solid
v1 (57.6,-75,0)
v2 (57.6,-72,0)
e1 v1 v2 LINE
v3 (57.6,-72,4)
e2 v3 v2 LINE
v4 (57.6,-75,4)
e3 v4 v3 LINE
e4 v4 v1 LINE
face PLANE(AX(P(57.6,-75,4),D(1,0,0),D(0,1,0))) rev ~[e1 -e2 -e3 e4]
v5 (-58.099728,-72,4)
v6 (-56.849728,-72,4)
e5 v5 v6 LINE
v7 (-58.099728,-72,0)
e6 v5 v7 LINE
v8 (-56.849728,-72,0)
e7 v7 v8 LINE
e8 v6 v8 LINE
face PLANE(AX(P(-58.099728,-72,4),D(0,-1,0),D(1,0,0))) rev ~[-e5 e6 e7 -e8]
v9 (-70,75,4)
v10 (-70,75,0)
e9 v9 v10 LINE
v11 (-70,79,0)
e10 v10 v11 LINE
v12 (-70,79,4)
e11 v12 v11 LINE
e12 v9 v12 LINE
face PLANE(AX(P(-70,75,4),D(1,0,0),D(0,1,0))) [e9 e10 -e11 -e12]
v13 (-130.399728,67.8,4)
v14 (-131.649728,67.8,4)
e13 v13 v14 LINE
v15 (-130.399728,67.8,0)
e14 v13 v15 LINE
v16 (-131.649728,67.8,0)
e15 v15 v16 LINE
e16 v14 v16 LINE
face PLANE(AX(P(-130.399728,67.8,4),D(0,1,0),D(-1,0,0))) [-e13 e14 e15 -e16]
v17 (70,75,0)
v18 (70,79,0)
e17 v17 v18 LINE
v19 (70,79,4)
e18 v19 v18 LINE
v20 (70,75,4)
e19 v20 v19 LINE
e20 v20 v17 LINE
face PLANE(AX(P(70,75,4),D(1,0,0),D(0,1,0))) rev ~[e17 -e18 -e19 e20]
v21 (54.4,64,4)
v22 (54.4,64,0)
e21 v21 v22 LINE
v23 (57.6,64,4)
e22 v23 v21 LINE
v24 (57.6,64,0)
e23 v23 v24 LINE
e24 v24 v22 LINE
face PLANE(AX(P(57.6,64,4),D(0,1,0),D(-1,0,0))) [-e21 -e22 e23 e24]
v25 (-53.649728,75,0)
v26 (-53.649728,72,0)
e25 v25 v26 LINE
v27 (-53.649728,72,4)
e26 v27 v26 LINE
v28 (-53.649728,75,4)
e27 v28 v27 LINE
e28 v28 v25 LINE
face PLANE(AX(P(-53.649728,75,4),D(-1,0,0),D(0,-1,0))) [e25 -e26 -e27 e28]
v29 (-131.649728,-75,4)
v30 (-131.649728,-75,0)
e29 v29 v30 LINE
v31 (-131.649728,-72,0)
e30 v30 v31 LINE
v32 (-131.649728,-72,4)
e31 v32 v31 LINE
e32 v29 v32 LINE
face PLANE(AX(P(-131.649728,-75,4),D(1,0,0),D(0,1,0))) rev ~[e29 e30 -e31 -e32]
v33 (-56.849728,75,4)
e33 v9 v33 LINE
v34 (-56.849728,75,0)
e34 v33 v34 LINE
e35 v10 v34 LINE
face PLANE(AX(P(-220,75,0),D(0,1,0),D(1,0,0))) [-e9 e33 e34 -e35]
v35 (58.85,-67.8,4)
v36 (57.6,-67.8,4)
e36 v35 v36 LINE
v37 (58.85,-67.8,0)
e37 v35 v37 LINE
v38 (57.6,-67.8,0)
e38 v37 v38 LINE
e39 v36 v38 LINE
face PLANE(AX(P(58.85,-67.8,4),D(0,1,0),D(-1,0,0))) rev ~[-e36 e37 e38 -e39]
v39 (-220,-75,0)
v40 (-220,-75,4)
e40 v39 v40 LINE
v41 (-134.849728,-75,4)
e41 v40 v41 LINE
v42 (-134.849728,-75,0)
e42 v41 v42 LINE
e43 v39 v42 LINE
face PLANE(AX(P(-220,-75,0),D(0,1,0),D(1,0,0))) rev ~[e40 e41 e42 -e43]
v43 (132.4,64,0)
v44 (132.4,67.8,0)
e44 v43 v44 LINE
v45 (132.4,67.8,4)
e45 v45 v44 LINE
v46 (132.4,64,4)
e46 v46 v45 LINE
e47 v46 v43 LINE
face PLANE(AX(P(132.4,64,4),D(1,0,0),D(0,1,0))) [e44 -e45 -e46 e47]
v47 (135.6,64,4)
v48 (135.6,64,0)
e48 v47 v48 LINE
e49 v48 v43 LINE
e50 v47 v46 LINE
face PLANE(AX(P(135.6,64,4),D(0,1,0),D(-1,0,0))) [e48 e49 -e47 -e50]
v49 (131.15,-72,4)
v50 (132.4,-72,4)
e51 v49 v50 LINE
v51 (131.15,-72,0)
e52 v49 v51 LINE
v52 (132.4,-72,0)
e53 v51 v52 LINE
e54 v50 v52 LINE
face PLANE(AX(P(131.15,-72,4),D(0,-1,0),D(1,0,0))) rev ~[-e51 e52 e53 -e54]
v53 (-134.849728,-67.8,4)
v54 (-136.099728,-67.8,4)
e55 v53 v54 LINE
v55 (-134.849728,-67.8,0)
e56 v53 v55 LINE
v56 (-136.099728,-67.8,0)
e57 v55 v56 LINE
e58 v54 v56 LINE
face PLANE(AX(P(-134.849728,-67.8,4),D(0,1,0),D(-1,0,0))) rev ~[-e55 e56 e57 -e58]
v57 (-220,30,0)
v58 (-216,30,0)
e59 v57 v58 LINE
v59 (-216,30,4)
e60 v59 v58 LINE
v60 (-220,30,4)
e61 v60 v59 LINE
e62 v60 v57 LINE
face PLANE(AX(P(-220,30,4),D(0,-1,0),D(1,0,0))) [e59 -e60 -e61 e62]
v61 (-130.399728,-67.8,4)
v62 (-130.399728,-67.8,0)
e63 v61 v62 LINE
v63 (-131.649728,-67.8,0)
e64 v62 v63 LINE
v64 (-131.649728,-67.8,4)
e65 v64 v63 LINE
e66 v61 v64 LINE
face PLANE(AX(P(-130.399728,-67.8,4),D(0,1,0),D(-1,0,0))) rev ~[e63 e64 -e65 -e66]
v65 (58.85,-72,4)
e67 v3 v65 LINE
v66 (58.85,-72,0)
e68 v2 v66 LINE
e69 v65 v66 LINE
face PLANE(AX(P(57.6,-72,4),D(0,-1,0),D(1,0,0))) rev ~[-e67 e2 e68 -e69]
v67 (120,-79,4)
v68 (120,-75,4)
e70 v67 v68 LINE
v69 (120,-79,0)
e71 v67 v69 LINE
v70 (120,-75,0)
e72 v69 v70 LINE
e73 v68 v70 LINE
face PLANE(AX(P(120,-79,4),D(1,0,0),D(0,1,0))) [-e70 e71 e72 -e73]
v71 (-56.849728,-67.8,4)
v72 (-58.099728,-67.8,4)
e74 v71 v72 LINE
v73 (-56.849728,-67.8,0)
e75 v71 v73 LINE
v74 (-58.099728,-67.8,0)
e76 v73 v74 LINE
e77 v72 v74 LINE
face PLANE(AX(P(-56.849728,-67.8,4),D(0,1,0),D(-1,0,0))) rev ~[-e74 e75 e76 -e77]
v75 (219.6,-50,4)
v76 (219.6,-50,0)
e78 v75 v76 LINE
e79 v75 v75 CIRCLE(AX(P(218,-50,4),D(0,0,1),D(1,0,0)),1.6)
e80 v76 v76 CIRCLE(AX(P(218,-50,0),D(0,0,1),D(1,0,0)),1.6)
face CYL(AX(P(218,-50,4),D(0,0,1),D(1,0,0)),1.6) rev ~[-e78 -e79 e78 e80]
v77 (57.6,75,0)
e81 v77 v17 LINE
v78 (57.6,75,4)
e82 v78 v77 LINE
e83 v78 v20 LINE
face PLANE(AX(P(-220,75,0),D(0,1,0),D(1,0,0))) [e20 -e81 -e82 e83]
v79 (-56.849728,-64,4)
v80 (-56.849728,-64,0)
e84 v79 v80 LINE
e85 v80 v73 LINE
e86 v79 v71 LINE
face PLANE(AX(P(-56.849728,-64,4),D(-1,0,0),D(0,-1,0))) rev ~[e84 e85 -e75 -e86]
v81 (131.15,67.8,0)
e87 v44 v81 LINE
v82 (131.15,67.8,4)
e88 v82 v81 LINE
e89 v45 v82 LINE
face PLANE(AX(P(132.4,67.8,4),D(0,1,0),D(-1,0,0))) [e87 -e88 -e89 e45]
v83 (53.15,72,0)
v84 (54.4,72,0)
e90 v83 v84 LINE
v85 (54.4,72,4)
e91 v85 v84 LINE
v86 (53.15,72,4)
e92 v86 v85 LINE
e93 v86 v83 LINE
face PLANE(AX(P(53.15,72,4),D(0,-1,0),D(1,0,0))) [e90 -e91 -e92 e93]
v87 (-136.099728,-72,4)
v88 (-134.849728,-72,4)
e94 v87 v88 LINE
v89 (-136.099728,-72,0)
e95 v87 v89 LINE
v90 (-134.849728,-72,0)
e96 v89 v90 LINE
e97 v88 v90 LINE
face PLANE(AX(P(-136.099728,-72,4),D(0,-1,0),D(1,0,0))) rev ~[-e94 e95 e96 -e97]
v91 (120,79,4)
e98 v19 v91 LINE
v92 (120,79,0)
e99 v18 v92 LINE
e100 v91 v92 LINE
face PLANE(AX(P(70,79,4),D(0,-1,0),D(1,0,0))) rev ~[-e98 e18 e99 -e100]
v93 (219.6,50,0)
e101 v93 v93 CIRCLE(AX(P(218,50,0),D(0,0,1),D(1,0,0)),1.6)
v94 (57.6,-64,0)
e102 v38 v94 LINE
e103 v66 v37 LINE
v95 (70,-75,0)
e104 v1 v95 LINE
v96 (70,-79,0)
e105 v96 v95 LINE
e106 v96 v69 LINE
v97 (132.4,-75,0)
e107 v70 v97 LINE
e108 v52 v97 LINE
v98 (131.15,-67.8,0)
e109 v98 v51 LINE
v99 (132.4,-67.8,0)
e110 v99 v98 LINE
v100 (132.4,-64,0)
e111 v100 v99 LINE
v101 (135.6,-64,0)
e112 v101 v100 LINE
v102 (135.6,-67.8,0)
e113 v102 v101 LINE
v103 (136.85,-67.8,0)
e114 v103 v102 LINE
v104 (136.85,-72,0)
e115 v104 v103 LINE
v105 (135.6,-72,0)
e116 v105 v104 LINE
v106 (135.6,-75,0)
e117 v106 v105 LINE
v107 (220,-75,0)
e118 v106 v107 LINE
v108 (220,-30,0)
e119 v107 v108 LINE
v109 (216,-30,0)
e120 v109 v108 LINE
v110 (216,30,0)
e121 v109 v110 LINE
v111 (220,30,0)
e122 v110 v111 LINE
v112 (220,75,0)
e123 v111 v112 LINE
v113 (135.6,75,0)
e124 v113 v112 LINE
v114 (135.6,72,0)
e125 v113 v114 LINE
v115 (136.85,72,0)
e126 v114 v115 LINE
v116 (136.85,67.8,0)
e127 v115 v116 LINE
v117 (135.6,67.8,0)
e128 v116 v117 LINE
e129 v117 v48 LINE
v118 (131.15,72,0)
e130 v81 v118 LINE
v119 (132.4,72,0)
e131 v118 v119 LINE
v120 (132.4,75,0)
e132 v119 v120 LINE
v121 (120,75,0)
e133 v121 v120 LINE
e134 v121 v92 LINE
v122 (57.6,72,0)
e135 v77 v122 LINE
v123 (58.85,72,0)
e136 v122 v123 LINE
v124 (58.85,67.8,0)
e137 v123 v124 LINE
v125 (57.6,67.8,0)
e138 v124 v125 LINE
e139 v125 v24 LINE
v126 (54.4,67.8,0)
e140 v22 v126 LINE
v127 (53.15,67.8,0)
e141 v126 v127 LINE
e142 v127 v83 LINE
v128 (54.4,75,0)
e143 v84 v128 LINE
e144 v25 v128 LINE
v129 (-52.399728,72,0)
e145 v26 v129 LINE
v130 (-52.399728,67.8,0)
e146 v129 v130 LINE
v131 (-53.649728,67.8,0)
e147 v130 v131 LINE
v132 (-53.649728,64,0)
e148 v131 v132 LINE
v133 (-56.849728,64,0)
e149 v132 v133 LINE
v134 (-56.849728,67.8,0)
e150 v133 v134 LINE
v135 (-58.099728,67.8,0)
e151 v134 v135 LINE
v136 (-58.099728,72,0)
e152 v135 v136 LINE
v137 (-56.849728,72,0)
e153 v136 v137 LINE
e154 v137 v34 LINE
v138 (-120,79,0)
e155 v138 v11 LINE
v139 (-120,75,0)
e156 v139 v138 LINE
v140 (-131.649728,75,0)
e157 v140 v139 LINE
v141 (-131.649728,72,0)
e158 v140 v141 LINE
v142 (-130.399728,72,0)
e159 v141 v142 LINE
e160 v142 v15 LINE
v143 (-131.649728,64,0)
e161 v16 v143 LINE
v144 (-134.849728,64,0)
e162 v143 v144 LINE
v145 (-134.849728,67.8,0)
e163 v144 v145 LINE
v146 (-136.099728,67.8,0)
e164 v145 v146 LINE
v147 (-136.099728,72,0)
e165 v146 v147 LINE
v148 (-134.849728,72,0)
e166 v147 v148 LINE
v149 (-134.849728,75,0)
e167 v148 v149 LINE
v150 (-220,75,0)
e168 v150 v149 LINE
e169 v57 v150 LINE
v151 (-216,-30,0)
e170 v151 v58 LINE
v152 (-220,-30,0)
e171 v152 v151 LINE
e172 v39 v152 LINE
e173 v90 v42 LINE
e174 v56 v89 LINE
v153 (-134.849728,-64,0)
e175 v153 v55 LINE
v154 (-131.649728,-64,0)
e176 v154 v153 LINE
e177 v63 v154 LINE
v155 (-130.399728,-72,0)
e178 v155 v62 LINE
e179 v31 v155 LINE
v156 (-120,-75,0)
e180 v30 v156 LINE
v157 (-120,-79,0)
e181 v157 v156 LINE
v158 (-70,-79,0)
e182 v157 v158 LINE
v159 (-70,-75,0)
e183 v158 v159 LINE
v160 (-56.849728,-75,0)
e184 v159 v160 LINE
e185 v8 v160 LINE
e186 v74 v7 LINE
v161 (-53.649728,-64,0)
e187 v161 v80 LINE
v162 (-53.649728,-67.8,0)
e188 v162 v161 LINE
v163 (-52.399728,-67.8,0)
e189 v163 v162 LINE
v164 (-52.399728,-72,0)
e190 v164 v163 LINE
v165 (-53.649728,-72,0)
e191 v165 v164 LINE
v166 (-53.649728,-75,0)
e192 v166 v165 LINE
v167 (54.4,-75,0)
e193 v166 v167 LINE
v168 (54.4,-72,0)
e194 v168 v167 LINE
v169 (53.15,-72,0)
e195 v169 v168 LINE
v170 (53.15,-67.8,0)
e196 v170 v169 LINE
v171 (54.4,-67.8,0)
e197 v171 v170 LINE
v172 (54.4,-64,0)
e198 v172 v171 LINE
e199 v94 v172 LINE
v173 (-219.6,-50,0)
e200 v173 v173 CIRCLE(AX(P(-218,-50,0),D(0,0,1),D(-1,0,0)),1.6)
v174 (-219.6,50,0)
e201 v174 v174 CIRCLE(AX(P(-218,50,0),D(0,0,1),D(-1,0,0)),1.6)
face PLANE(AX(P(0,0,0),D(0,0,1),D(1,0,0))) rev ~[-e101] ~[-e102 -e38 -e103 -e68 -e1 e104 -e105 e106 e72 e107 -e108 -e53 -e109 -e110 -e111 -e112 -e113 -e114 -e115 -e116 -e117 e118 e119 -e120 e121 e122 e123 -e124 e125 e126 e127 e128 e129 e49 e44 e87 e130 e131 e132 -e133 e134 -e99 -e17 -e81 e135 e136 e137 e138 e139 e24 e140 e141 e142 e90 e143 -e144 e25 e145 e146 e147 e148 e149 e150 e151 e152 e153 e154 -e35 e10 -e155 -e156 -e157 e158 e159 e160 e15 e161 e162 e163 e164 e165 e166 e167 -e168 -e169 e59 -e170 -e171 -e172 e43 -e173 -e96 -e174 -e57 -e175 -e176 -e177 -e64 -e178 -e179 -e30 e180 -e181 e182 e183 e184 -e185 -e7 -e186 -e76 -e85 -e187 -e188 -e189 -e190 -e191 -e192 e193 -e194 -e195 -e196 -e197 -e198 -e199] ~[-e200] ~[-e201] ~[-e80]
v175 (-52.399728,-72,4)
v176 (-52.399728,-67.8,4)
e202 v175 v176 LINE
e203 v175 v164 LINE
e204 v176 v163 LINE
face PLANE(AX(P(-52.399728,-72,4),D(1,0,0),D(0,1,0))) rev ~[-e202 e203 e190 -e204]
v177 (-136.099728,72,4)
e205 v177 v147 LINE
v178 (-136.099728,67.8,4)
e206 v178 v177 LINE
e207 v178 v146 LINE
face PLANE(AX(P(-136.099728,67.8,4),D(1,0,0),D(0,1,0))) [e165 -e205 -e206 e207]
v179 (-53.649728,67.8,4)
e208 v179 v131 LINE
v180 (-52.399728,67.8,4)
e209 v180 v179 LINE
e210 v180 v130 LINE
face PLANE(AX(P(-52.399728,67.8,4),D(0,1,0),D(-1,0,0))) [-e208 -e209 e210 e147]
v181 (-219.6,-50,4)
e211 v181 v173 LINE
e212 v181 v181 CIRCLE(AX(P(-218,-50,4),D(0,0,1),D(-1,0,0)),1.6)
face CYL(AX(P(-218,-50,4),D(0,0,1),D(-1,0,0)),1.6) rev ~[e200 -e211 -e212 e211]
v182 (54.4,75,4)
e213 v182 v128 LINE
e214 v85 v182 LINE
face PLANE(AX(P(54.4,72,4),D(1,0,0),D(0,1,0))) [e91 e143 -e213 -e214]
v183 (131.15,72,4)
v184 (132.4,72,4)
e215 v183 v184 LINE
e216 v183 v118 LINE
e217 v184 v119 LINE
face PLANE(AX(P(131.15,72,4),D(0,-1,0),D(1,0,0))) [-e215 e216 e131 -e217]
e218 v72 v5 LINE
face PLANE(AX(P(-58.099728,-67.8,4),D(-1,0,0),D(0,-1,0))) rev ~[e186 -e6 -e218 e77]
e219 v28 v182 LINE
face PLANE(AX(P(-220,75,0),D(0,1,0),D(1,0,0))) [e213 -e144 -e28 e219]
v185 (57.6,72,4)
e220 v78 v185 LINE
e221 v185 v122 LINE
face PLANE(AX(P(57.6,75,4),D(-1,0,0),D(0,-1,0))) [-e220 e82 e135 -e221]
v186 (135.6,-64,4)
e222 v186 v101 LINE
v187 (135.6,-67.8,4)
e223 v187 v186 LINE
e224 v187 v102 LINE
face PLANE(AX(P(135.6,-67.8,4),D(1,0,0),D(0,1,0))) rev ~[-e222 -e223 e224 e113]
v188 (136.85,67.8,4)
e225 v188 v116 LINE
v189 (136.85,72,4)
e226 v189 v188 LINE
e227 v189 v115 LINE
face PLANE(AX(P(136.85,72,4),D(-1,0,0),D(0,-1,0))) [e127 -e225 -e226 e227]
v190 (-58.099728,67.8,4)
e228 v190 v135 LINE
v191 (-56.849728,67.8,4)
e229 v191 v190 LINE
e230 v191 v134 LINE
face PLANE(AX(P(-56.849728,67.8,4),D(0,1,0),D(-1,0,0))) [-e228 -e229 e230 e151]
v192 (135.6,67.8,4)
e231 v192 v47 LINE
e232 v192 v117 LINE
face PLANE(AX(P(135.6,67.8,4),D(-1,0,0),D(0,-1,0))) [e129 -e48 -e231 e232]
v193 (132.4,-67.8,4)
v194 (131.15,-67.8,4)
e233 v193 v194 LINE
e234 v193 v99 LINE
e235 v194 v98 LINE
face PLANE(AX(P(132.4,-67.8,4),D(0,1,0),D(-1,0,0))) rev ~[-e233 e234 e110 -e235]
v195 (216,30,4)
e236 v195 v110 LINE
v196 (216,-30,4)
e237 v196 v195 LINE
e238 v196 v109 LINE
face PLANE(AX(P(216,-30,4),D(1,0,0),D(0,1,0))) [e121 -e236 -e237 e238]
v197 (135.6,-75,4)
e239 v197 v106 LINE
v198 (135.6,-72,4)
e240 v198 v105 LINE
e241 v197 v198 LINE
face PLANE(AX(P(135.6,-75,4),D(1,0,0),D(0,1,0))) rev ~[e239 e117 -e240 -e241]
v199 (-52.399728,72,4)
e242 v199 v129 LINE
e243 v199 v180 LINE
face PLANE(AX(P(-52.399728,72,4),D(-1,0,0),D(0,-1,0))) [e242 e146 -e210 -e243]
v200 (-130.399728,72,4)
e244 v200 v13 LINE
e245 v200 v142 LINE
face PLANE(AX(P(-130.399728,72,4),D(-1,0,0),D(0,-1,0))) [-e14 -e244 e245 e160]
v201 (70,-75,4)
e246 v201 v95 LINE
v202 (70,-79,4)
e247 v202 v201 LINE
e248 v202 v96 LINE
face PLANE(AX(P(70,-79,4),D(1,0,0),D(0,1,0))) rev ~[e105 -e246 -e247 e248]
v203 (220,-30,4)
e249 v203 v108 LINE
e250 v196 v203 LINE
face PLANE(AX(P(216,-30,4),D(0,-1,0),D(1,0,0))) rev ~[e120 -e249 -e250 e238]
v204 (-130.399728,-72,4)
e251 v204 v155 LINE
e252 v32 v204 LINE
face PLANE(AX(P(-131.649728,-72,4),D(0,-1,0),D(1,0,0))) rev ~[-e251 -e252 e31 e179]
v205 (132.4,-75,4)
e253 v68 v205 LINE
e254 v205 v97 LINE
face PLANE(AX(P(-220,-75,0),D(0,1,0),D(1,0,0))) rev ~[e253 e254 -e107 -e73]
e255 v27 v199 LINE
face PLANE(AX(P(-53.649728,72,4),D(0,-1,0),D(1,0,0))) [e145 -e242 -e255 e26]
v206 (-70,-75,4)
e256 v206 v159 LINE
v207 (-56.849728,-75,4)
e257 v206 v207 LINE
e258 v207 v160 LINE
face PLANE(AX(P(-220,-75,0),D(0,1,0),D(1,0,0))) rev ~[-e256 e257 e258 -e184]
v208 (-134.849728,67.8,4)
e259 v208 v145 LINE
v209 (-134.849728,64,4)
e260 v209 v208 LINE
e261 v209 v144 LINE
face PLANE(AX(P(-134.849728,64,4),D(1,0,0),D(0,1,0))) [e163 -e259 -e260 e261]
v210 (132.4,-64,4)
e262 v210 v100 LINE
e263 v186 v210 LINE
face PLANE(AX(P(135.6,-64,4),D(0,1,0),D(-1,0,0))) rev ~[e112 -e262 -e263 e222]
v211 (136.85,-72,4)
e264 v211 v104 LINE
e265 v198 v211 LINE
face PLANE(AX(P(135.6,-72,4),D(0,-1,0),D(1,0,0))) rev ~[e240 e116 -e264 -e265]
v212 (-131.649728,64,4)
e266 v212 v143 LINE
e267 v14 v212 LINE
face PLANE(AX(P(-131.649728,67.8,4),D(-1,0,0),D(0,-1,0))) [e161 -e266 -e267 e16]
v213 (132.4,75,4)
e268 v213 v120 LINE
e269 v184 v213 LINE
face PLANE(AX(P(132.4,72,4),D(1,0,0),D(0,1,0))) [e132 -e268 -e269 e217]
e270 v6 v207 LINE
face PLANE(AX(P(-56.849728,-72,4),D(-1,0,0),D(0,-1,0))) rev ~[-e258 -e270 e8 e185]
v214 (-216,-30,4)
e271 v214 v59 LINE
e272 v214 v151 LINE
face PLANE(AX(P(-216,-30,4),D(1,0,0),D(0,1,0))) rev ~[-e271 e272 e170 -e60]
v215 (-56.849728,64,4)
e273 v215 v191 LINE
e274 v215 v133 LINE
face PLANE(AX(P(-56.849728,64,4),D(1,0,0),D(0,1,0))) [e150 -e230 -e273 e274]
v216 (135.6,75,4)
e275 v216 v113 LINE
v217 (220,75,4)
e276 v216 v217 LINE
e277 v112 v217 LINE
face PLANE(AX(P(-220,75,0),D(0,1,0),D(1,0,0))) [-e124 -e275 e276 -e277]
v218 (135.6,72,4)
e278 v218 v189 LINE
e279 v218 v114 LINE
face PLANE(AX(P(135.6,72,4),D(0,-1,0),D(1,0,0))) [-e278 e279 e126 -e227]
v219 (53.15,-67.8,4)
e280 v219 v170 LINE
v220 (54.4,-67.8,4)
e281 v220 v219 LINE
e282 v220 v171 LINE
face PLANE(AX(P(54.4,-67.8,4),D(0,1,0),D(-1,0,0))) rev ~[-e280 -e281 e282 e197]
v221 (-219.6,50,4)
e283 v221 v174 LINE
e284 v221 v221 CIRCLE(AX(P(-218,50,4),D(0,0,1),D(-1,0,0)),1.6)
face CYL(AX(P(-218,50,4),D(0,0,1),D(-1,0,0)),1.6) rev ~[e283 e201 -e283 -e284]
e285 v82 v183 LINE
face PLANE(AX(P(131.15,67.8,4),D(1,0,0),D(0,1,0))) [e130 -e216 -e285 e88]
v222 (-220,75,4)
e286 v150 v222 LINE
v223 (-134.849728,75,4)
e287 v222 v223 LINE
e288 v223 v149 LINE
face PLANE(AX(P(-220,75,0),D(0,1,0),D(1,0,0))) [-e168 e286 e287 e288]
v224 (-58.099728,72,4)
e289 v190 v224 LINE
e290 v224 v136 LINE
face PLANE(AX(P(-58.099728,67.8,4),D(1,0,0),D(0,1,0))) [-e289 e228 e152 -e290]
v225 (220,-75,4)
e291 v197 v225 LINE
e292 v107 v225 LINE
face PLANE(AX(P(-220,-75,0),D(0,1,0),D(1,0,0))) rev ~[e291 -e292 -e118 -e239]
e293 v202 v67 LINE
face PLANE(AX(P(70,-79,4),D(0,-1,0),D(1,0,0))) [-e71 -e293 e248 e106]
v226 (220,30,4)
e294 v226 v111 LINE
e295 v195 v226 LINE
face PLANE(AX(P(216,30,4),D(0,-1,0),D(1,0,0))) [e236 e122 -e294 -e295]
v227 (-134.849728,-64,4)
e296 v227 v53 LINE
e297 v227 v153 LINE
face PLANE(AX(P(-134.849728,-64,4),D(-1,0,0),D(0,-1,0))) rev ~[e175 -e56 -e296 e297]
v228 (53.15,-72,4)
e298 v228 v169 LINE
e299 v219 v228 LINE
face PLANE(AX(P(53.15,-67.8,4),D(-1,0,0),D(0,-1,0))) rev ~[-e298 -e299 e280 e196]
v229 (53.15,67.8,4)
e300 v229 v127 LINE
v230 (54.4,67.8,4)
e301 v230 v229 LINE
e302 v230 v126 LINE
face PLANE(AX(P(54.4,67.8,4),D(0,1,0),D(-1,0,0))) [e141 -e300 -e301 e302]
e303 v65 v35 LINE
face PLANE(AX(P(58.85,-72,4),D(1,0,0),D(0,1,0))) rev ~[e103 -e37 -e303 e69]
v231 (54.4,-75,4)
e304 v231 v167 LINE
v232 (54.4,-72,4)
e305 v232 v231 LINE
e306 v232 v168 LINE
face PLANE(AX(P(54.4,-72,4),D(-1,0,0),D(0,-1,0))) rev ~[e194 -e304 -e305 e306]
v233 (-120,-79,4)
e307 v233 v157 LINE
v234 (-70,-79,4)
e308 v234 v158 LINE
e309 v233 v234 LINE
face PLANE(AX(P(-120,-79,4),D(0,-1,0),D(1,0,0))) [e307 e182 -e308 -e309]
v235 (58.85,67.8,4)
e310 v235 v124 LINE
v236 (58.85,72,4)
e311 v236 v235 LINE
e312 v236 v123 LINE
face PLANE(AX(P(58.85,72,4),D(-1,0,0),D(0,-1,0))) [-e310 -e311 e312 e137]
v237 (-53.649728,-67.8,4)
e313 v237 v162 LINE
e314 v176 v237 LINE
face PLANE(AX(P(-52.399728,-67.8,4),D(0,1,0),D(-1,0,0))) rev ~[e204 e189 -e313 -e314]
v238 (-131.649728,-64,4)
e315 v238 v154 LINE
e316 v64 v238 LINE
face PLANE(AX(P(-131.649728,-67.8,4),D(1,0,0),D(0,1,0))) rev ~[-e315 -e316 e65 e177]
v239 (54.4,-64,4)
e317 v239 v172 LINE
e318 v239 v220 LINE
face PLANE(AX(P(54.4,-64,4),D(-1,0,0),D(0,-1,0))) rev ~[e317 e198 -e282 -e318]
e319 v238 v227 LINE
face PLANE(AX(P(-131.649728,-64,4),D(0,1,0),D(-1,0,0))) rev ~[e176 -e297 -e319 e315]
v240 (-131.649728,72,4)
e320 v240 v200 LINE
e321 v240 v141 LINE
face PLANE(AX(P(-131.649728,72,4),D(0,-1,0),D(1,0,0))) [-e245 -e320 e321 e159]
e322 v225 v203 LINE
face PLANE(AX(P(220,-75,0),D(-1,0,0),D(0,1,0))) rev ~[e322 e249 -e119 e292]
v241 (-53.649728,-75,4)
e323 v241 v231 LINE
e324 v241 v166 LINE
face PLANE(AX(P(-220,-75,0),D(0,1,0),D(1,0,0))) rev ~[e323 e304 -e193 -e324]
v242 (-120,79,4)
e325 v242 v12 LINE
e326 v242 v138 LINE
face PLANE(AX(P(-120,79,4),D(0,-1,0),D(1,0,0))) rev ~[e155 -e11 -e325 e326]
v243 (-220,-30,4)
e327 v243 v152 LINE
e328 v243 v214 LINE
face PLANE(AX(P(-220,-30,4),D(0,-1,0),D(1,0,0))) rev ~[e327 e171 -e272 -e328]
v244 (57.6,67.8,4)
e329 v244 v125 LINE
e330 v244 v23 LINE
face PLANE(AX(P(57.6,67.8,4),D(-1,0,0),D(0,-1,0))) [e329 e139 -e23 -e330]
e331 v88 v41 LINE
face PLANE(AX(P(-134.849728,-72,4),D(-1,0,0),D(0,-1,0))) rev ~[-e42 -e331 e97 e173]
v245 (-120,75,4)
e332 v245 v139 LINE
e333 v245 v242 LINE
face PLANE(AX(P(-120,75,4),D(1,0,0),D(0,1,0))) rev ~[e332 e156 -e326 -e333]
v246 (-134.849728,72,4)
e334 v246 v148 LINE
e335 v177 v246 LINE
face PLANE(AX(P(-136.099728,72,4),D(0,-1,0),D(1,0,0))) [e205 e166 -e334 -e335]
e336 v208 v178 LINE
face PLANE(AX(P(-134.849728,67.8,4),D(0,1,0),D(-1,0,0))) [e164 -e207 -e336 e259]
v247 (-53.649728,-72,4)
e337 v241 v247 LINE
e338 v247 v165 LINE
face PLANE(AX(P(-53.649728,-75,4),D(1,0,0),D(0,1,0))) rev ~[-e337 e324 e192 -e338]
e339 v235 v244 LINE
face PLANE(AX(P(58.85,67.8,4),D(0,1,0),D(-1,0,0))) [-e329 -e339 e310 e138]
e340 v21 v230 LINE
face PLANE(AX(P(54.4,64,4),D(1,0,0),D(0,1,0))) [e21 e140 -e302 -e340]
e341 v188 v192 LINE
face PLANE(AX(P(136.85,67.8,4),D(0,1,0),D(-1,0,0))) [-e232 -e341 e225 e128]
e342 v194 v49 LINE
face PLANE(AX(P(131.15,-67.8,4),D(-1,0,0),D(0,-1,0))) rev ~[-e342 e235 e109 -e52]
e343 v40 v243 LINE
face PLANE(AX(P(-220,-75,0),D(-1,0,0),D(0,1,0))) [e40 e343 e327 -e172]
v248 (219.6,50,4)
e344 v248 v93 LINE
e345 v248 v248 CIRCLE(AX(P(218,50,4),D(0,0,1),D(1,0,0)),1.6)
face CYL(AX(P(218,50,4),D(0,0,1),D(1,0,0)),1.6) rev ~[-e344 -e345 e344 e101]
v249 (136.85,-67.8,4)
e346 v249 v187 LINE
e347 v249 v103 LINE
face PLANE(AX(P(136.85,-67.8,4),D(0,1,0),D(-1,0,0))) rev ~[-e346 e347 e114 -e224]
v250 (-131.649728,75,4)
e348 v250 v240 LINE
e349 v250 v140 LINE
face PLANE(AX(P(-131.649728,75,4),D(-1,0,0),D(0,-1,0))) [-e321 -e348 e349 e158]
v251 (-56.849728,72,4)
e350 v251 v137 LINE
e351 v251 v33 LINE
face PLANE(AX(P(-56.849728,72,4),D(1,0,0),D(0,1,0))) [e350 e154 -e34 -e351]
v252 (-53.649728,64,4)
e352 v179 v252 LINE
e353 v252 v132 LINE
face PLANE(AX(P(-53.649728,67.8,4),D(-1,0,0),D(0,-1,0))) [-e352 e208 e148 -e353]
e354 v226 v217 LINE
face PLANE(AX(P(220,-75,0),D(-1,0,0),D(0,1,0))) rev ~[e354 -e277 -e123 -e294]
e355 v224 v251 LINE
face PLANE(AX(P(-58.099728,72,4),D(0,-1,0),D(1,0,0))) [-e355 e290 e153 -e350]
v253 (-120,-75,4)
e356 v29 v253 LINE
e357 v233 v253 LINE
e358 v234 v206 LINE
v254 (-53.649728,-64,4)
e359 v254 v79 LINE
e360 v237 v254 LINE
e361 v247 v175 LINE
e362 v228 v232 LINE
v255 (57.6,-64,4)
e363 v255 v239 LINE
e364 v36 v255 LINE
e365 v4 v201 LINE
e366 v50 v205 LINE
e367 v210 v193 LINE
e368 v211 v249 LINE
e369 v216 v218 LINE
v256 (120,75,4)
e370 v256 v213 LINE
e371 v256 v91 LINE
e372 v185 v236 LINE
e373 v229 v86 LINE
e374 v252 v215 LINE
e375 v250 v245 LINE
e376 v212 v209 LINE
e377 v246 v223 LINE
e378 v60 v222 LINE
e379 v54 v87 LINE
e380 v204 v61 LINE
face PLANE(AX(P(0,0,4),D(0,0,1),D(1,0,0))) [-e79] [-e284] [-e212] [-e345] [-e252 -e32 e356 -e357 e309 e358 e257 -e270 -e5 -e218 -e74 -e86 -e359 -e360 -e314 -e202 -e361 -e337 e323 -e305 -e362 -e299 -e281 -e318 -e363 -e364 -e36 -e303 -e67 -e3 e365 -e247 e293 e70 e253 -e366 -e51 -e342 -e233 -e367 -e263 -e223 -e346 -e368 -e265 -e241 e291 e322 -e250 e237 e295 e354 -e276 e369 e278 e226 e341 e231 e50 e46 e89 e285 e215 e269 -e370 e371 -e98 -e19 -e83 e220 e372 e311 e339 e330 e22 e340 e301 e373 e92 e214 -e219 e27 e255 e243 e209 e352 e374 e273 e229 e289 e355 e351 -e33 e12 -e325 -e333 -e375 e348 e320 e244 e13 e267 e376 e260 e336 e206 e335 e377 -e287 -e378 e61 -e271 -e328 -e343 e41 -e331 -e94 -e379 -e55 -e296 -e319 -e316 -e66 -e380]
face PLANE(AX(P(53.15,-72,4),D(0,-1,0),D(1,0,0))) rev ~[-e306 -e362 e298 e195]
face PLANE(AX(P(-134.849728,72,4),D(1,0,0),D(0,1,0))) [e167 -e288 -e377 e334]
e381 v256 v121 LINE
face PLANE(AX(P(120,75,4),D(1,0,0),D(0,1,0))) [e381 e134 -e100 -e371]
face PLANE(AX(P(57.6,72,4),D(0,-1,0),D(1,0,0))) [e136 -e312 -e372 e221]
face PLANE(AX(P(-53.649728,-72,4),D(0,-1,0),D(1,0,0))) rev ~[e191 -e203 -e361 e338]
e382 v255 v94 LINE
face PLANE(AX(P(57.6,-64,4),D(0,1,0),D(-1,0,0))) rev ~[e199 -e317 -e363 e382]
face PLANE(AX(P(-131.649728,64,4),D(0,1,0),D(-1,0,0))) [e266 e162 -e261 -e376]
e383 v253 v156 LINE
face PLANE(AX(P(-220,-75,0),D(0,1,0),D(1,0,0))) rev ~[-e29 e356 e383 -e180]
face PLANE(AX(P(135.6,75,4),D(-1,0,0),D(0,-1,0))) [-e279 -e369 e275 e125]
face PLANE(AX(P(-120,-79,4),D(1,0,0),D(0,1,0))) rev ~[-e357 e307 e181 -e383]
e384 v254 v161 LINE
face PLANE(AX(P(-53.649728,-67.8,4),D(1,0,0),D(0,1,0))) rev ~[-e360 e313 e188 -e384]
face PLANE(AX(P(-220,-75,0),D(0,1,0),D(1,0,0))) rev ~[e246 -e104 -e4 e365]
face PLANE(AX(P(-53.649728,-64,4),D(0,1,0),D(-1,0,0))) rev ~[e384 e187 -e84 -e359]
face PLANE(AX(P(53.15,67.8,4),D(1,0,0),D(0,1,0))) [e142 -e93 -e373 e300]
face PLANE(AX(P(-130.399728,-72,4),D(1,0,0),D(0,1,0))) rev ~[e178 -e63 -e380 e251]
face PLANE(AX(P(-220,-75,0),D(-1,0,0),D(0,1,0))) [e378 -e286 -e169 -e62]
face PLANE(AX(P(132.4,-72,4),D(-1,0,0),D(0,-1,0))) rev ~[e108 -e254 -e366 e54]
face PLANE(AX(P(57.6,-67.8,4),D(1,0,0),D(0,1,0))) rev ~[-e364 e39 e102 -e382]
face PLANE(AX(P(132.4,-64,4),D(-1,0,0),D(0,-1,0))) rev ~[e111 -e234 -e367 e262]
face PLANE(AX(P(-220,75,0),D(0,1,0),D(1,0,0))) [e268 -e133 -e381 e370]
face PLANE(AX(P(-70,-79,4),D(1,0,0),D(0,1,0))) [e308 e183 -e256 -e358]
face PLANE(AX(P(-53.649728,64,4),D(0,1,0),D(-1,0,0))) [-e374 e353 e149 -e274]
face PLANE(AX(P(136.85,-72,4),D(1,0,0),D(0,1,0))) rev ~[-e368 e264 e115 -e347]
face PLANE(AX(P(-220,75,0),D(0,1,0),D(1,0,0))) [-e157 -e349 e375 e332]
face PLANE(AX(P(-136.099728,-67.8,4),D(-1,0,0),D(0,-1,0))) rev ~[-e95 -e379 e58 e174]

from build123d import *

# Parameters (mm, degrees)
ESQUISSE1_W             = 440
ESQUISSE1_H             = 150
BOSS_EXTRU_1_DEPTH      = 4
ESQUISSE2_W             = 4
ESQUISSE2_H             = 60
ENL_V_MAT_EXTRU_1_DEPTH = 4
ESQUISSE3_W             = 50
ESQUISSE3_H             = 4
BOSS_EXTRU_2_DEPTH      = 4
ENL_V_MAT_EXTRU_2_DEPTH = 10
ESQUISSE5_R             = 1.6
ENL_V_MAT_EXTRU_3_DEPTH = 4


with BuildPart() as part:
    # Esquisse1 → Boss.-Extru.1 (new body)
    with BuildSketch(Plane.XY):
        Rectangle(ESQUISSE1_W, ESQUISSE1_H)
    extrude(amount=BOSS_EXTRU_1_DEPTH)

    # Esquisse2 → Enlèv. mat.-Extru.1 (cut)
    with BuildSketch(Plane.XY.offset(4)):
        with Locations((-218, 0)):
            Rectangle(ESQUISSE2_W, ESQUISSE2_H)
        with Locations((218, 0)):
            Rectangle(ESQUISSE2_W, ESQUISSE2_H)
    extrude(amount=-ENL_V_MAT_EXTRU_1_DEPTH, mode=Mode.SUBTRACT)

    # Esquisse3 → Boss.-Extru.2 (add)
    with BuildSketch(Plane.XY.offset(4)):
        with Locations((-95, -77)):
            Rectangle(ESQUISSE3_W, ESQUISSE3_H)
        with Locations((95, -77)):
            Rectangle(ESQUISSE3_W, ESQUISSE3_H)
        with Locations((95, 77)):
            Rectangle(ESQUISSE3_W, ESQUISSE3_H)
        with Locations((-95, 77)):
            Rectangle(ESQUISSE3_W, ESQUISSE3_H)
    extrude(amount=-BOSS_EXTRU_2_DEPTH)

    # Esquisse4 → Enlèv. mat.-Extru.2 (cut)
    with BuildSketch(Plane.XY.offset(4)):
        Polygon((132.4, 75), (135.6, 75), (135.6, 72), (136.85, 72), (136.85, 67.8), (135.6, 67.8), (135.6, 64), (132.4, 64), (132.4, 67.8), (131.15, 67.8), (131.15, 72), (132.4, 72), align=None)
        Polygon((54.4, 75), (57.6, 75), (57.6, 72), (58.85, 72), (58.85, 67.8), (57.6, 67.8), (57.6, 64), (54.4, 64), (54.4, 67.8), (53.15, 67.8), (53.15, 72), (54.4, 72), align=None)
        Polygon((-56.849728223, 75), (-53.649728223, 75), (-53.649728223, 72), (-52.399728223, 72), (-52.399728223, 67.8), (-53.649728223, 67.8), (-53.649728223, 64), (-56.849728223, 64), (-56.849728223, 67.8), (-58.099728223, 67.8), (-58.099728223, 72), (-56.849728223, 72), align=None)
        Polygon((-134.849728223, 75), (-131.649728223, 75), (-131.649728223, 72), (-130.399728223, 72), (-130.399728223, 67.8), (-131.649728223, 67.8), (-131.649728223, 64), (-134.849728223, 64), (-134.849728223, 67.8), (-136.099728223, 67.8), (-136.099728223, 72), (-134.849728223, 72), align=None)
        Polygon((-131.649728223, -75), (-131.649728223, -72), (-130.399728223, -72), (-130.399728223, -67.8), (-131.649728223, -67.8), (-131.649728223, -64), (-134.849728223, -64), (-134.849728223, -67.8), (-136.099728223, -67.8), (-136.099728223, -72), (-134.849728223, -72), (-134.849728223, -75), align=None)
        Polygon((-53.649728223, -75), (-53.649728223, -72), (-52.399728223, -72), (-52.399728223, -67.8), (-53.649728223, -67.8), (-53.649728223, -64), (-56.849728223, -64), (-56.849728223, -67.8), (-58.099728223, -67.8), (-58.099728223, -72), (-56.849728223, -72), (-56.849728223, -75), align=None)
        Polygon((57.6, -75), (57.6, -72), (58.85, -72), (58.85, -67.8), (57.6, -67.8), (57.6, -64), (54.4, -64), (54.4, -67.8), (53.15, -67.8), (53.15, -72), (54.4, -72), (54.4, -75), align=None)
        Polygon((135.6, -75), (135.6, -72), (136.85, -72), (136.85, -67.8), (135.6, -67.8), (135.6, -64), (132.4, -64), (132.4, -67.8), (131.15, -67.8), (131.15, -72), (132.4, -72), (132.4, -75), align=None)
    extrude(amount=-ENL_V_MAT_EXTRU_2_DEPTH, mode=Mode.SUBTRACT)

    # Esquisse5 → Enlèv. mat.-Extru.3 (cut)
    with BuildSketch(Plane.XY.offset(4)):
        with Locations((218, -50)):
            Circle(ESQUISSE5_R)
        with Locations((218, 50)):
            Circle(ESQUISSE5_R)
        with Locations(Location((-218, 50, 0), (0, 0, 180))):
            Circle(ESQUISSE5_R)
        with Locations(Location((-218, -50, 0), (0, 0, 180))):
            Circle(ESQUISSE5_R)
    extrude(amount=-ENL_V_MAT_EXTRU_3_DEPTH, mode=Mode.SUBTRACT)


solid = part.part
